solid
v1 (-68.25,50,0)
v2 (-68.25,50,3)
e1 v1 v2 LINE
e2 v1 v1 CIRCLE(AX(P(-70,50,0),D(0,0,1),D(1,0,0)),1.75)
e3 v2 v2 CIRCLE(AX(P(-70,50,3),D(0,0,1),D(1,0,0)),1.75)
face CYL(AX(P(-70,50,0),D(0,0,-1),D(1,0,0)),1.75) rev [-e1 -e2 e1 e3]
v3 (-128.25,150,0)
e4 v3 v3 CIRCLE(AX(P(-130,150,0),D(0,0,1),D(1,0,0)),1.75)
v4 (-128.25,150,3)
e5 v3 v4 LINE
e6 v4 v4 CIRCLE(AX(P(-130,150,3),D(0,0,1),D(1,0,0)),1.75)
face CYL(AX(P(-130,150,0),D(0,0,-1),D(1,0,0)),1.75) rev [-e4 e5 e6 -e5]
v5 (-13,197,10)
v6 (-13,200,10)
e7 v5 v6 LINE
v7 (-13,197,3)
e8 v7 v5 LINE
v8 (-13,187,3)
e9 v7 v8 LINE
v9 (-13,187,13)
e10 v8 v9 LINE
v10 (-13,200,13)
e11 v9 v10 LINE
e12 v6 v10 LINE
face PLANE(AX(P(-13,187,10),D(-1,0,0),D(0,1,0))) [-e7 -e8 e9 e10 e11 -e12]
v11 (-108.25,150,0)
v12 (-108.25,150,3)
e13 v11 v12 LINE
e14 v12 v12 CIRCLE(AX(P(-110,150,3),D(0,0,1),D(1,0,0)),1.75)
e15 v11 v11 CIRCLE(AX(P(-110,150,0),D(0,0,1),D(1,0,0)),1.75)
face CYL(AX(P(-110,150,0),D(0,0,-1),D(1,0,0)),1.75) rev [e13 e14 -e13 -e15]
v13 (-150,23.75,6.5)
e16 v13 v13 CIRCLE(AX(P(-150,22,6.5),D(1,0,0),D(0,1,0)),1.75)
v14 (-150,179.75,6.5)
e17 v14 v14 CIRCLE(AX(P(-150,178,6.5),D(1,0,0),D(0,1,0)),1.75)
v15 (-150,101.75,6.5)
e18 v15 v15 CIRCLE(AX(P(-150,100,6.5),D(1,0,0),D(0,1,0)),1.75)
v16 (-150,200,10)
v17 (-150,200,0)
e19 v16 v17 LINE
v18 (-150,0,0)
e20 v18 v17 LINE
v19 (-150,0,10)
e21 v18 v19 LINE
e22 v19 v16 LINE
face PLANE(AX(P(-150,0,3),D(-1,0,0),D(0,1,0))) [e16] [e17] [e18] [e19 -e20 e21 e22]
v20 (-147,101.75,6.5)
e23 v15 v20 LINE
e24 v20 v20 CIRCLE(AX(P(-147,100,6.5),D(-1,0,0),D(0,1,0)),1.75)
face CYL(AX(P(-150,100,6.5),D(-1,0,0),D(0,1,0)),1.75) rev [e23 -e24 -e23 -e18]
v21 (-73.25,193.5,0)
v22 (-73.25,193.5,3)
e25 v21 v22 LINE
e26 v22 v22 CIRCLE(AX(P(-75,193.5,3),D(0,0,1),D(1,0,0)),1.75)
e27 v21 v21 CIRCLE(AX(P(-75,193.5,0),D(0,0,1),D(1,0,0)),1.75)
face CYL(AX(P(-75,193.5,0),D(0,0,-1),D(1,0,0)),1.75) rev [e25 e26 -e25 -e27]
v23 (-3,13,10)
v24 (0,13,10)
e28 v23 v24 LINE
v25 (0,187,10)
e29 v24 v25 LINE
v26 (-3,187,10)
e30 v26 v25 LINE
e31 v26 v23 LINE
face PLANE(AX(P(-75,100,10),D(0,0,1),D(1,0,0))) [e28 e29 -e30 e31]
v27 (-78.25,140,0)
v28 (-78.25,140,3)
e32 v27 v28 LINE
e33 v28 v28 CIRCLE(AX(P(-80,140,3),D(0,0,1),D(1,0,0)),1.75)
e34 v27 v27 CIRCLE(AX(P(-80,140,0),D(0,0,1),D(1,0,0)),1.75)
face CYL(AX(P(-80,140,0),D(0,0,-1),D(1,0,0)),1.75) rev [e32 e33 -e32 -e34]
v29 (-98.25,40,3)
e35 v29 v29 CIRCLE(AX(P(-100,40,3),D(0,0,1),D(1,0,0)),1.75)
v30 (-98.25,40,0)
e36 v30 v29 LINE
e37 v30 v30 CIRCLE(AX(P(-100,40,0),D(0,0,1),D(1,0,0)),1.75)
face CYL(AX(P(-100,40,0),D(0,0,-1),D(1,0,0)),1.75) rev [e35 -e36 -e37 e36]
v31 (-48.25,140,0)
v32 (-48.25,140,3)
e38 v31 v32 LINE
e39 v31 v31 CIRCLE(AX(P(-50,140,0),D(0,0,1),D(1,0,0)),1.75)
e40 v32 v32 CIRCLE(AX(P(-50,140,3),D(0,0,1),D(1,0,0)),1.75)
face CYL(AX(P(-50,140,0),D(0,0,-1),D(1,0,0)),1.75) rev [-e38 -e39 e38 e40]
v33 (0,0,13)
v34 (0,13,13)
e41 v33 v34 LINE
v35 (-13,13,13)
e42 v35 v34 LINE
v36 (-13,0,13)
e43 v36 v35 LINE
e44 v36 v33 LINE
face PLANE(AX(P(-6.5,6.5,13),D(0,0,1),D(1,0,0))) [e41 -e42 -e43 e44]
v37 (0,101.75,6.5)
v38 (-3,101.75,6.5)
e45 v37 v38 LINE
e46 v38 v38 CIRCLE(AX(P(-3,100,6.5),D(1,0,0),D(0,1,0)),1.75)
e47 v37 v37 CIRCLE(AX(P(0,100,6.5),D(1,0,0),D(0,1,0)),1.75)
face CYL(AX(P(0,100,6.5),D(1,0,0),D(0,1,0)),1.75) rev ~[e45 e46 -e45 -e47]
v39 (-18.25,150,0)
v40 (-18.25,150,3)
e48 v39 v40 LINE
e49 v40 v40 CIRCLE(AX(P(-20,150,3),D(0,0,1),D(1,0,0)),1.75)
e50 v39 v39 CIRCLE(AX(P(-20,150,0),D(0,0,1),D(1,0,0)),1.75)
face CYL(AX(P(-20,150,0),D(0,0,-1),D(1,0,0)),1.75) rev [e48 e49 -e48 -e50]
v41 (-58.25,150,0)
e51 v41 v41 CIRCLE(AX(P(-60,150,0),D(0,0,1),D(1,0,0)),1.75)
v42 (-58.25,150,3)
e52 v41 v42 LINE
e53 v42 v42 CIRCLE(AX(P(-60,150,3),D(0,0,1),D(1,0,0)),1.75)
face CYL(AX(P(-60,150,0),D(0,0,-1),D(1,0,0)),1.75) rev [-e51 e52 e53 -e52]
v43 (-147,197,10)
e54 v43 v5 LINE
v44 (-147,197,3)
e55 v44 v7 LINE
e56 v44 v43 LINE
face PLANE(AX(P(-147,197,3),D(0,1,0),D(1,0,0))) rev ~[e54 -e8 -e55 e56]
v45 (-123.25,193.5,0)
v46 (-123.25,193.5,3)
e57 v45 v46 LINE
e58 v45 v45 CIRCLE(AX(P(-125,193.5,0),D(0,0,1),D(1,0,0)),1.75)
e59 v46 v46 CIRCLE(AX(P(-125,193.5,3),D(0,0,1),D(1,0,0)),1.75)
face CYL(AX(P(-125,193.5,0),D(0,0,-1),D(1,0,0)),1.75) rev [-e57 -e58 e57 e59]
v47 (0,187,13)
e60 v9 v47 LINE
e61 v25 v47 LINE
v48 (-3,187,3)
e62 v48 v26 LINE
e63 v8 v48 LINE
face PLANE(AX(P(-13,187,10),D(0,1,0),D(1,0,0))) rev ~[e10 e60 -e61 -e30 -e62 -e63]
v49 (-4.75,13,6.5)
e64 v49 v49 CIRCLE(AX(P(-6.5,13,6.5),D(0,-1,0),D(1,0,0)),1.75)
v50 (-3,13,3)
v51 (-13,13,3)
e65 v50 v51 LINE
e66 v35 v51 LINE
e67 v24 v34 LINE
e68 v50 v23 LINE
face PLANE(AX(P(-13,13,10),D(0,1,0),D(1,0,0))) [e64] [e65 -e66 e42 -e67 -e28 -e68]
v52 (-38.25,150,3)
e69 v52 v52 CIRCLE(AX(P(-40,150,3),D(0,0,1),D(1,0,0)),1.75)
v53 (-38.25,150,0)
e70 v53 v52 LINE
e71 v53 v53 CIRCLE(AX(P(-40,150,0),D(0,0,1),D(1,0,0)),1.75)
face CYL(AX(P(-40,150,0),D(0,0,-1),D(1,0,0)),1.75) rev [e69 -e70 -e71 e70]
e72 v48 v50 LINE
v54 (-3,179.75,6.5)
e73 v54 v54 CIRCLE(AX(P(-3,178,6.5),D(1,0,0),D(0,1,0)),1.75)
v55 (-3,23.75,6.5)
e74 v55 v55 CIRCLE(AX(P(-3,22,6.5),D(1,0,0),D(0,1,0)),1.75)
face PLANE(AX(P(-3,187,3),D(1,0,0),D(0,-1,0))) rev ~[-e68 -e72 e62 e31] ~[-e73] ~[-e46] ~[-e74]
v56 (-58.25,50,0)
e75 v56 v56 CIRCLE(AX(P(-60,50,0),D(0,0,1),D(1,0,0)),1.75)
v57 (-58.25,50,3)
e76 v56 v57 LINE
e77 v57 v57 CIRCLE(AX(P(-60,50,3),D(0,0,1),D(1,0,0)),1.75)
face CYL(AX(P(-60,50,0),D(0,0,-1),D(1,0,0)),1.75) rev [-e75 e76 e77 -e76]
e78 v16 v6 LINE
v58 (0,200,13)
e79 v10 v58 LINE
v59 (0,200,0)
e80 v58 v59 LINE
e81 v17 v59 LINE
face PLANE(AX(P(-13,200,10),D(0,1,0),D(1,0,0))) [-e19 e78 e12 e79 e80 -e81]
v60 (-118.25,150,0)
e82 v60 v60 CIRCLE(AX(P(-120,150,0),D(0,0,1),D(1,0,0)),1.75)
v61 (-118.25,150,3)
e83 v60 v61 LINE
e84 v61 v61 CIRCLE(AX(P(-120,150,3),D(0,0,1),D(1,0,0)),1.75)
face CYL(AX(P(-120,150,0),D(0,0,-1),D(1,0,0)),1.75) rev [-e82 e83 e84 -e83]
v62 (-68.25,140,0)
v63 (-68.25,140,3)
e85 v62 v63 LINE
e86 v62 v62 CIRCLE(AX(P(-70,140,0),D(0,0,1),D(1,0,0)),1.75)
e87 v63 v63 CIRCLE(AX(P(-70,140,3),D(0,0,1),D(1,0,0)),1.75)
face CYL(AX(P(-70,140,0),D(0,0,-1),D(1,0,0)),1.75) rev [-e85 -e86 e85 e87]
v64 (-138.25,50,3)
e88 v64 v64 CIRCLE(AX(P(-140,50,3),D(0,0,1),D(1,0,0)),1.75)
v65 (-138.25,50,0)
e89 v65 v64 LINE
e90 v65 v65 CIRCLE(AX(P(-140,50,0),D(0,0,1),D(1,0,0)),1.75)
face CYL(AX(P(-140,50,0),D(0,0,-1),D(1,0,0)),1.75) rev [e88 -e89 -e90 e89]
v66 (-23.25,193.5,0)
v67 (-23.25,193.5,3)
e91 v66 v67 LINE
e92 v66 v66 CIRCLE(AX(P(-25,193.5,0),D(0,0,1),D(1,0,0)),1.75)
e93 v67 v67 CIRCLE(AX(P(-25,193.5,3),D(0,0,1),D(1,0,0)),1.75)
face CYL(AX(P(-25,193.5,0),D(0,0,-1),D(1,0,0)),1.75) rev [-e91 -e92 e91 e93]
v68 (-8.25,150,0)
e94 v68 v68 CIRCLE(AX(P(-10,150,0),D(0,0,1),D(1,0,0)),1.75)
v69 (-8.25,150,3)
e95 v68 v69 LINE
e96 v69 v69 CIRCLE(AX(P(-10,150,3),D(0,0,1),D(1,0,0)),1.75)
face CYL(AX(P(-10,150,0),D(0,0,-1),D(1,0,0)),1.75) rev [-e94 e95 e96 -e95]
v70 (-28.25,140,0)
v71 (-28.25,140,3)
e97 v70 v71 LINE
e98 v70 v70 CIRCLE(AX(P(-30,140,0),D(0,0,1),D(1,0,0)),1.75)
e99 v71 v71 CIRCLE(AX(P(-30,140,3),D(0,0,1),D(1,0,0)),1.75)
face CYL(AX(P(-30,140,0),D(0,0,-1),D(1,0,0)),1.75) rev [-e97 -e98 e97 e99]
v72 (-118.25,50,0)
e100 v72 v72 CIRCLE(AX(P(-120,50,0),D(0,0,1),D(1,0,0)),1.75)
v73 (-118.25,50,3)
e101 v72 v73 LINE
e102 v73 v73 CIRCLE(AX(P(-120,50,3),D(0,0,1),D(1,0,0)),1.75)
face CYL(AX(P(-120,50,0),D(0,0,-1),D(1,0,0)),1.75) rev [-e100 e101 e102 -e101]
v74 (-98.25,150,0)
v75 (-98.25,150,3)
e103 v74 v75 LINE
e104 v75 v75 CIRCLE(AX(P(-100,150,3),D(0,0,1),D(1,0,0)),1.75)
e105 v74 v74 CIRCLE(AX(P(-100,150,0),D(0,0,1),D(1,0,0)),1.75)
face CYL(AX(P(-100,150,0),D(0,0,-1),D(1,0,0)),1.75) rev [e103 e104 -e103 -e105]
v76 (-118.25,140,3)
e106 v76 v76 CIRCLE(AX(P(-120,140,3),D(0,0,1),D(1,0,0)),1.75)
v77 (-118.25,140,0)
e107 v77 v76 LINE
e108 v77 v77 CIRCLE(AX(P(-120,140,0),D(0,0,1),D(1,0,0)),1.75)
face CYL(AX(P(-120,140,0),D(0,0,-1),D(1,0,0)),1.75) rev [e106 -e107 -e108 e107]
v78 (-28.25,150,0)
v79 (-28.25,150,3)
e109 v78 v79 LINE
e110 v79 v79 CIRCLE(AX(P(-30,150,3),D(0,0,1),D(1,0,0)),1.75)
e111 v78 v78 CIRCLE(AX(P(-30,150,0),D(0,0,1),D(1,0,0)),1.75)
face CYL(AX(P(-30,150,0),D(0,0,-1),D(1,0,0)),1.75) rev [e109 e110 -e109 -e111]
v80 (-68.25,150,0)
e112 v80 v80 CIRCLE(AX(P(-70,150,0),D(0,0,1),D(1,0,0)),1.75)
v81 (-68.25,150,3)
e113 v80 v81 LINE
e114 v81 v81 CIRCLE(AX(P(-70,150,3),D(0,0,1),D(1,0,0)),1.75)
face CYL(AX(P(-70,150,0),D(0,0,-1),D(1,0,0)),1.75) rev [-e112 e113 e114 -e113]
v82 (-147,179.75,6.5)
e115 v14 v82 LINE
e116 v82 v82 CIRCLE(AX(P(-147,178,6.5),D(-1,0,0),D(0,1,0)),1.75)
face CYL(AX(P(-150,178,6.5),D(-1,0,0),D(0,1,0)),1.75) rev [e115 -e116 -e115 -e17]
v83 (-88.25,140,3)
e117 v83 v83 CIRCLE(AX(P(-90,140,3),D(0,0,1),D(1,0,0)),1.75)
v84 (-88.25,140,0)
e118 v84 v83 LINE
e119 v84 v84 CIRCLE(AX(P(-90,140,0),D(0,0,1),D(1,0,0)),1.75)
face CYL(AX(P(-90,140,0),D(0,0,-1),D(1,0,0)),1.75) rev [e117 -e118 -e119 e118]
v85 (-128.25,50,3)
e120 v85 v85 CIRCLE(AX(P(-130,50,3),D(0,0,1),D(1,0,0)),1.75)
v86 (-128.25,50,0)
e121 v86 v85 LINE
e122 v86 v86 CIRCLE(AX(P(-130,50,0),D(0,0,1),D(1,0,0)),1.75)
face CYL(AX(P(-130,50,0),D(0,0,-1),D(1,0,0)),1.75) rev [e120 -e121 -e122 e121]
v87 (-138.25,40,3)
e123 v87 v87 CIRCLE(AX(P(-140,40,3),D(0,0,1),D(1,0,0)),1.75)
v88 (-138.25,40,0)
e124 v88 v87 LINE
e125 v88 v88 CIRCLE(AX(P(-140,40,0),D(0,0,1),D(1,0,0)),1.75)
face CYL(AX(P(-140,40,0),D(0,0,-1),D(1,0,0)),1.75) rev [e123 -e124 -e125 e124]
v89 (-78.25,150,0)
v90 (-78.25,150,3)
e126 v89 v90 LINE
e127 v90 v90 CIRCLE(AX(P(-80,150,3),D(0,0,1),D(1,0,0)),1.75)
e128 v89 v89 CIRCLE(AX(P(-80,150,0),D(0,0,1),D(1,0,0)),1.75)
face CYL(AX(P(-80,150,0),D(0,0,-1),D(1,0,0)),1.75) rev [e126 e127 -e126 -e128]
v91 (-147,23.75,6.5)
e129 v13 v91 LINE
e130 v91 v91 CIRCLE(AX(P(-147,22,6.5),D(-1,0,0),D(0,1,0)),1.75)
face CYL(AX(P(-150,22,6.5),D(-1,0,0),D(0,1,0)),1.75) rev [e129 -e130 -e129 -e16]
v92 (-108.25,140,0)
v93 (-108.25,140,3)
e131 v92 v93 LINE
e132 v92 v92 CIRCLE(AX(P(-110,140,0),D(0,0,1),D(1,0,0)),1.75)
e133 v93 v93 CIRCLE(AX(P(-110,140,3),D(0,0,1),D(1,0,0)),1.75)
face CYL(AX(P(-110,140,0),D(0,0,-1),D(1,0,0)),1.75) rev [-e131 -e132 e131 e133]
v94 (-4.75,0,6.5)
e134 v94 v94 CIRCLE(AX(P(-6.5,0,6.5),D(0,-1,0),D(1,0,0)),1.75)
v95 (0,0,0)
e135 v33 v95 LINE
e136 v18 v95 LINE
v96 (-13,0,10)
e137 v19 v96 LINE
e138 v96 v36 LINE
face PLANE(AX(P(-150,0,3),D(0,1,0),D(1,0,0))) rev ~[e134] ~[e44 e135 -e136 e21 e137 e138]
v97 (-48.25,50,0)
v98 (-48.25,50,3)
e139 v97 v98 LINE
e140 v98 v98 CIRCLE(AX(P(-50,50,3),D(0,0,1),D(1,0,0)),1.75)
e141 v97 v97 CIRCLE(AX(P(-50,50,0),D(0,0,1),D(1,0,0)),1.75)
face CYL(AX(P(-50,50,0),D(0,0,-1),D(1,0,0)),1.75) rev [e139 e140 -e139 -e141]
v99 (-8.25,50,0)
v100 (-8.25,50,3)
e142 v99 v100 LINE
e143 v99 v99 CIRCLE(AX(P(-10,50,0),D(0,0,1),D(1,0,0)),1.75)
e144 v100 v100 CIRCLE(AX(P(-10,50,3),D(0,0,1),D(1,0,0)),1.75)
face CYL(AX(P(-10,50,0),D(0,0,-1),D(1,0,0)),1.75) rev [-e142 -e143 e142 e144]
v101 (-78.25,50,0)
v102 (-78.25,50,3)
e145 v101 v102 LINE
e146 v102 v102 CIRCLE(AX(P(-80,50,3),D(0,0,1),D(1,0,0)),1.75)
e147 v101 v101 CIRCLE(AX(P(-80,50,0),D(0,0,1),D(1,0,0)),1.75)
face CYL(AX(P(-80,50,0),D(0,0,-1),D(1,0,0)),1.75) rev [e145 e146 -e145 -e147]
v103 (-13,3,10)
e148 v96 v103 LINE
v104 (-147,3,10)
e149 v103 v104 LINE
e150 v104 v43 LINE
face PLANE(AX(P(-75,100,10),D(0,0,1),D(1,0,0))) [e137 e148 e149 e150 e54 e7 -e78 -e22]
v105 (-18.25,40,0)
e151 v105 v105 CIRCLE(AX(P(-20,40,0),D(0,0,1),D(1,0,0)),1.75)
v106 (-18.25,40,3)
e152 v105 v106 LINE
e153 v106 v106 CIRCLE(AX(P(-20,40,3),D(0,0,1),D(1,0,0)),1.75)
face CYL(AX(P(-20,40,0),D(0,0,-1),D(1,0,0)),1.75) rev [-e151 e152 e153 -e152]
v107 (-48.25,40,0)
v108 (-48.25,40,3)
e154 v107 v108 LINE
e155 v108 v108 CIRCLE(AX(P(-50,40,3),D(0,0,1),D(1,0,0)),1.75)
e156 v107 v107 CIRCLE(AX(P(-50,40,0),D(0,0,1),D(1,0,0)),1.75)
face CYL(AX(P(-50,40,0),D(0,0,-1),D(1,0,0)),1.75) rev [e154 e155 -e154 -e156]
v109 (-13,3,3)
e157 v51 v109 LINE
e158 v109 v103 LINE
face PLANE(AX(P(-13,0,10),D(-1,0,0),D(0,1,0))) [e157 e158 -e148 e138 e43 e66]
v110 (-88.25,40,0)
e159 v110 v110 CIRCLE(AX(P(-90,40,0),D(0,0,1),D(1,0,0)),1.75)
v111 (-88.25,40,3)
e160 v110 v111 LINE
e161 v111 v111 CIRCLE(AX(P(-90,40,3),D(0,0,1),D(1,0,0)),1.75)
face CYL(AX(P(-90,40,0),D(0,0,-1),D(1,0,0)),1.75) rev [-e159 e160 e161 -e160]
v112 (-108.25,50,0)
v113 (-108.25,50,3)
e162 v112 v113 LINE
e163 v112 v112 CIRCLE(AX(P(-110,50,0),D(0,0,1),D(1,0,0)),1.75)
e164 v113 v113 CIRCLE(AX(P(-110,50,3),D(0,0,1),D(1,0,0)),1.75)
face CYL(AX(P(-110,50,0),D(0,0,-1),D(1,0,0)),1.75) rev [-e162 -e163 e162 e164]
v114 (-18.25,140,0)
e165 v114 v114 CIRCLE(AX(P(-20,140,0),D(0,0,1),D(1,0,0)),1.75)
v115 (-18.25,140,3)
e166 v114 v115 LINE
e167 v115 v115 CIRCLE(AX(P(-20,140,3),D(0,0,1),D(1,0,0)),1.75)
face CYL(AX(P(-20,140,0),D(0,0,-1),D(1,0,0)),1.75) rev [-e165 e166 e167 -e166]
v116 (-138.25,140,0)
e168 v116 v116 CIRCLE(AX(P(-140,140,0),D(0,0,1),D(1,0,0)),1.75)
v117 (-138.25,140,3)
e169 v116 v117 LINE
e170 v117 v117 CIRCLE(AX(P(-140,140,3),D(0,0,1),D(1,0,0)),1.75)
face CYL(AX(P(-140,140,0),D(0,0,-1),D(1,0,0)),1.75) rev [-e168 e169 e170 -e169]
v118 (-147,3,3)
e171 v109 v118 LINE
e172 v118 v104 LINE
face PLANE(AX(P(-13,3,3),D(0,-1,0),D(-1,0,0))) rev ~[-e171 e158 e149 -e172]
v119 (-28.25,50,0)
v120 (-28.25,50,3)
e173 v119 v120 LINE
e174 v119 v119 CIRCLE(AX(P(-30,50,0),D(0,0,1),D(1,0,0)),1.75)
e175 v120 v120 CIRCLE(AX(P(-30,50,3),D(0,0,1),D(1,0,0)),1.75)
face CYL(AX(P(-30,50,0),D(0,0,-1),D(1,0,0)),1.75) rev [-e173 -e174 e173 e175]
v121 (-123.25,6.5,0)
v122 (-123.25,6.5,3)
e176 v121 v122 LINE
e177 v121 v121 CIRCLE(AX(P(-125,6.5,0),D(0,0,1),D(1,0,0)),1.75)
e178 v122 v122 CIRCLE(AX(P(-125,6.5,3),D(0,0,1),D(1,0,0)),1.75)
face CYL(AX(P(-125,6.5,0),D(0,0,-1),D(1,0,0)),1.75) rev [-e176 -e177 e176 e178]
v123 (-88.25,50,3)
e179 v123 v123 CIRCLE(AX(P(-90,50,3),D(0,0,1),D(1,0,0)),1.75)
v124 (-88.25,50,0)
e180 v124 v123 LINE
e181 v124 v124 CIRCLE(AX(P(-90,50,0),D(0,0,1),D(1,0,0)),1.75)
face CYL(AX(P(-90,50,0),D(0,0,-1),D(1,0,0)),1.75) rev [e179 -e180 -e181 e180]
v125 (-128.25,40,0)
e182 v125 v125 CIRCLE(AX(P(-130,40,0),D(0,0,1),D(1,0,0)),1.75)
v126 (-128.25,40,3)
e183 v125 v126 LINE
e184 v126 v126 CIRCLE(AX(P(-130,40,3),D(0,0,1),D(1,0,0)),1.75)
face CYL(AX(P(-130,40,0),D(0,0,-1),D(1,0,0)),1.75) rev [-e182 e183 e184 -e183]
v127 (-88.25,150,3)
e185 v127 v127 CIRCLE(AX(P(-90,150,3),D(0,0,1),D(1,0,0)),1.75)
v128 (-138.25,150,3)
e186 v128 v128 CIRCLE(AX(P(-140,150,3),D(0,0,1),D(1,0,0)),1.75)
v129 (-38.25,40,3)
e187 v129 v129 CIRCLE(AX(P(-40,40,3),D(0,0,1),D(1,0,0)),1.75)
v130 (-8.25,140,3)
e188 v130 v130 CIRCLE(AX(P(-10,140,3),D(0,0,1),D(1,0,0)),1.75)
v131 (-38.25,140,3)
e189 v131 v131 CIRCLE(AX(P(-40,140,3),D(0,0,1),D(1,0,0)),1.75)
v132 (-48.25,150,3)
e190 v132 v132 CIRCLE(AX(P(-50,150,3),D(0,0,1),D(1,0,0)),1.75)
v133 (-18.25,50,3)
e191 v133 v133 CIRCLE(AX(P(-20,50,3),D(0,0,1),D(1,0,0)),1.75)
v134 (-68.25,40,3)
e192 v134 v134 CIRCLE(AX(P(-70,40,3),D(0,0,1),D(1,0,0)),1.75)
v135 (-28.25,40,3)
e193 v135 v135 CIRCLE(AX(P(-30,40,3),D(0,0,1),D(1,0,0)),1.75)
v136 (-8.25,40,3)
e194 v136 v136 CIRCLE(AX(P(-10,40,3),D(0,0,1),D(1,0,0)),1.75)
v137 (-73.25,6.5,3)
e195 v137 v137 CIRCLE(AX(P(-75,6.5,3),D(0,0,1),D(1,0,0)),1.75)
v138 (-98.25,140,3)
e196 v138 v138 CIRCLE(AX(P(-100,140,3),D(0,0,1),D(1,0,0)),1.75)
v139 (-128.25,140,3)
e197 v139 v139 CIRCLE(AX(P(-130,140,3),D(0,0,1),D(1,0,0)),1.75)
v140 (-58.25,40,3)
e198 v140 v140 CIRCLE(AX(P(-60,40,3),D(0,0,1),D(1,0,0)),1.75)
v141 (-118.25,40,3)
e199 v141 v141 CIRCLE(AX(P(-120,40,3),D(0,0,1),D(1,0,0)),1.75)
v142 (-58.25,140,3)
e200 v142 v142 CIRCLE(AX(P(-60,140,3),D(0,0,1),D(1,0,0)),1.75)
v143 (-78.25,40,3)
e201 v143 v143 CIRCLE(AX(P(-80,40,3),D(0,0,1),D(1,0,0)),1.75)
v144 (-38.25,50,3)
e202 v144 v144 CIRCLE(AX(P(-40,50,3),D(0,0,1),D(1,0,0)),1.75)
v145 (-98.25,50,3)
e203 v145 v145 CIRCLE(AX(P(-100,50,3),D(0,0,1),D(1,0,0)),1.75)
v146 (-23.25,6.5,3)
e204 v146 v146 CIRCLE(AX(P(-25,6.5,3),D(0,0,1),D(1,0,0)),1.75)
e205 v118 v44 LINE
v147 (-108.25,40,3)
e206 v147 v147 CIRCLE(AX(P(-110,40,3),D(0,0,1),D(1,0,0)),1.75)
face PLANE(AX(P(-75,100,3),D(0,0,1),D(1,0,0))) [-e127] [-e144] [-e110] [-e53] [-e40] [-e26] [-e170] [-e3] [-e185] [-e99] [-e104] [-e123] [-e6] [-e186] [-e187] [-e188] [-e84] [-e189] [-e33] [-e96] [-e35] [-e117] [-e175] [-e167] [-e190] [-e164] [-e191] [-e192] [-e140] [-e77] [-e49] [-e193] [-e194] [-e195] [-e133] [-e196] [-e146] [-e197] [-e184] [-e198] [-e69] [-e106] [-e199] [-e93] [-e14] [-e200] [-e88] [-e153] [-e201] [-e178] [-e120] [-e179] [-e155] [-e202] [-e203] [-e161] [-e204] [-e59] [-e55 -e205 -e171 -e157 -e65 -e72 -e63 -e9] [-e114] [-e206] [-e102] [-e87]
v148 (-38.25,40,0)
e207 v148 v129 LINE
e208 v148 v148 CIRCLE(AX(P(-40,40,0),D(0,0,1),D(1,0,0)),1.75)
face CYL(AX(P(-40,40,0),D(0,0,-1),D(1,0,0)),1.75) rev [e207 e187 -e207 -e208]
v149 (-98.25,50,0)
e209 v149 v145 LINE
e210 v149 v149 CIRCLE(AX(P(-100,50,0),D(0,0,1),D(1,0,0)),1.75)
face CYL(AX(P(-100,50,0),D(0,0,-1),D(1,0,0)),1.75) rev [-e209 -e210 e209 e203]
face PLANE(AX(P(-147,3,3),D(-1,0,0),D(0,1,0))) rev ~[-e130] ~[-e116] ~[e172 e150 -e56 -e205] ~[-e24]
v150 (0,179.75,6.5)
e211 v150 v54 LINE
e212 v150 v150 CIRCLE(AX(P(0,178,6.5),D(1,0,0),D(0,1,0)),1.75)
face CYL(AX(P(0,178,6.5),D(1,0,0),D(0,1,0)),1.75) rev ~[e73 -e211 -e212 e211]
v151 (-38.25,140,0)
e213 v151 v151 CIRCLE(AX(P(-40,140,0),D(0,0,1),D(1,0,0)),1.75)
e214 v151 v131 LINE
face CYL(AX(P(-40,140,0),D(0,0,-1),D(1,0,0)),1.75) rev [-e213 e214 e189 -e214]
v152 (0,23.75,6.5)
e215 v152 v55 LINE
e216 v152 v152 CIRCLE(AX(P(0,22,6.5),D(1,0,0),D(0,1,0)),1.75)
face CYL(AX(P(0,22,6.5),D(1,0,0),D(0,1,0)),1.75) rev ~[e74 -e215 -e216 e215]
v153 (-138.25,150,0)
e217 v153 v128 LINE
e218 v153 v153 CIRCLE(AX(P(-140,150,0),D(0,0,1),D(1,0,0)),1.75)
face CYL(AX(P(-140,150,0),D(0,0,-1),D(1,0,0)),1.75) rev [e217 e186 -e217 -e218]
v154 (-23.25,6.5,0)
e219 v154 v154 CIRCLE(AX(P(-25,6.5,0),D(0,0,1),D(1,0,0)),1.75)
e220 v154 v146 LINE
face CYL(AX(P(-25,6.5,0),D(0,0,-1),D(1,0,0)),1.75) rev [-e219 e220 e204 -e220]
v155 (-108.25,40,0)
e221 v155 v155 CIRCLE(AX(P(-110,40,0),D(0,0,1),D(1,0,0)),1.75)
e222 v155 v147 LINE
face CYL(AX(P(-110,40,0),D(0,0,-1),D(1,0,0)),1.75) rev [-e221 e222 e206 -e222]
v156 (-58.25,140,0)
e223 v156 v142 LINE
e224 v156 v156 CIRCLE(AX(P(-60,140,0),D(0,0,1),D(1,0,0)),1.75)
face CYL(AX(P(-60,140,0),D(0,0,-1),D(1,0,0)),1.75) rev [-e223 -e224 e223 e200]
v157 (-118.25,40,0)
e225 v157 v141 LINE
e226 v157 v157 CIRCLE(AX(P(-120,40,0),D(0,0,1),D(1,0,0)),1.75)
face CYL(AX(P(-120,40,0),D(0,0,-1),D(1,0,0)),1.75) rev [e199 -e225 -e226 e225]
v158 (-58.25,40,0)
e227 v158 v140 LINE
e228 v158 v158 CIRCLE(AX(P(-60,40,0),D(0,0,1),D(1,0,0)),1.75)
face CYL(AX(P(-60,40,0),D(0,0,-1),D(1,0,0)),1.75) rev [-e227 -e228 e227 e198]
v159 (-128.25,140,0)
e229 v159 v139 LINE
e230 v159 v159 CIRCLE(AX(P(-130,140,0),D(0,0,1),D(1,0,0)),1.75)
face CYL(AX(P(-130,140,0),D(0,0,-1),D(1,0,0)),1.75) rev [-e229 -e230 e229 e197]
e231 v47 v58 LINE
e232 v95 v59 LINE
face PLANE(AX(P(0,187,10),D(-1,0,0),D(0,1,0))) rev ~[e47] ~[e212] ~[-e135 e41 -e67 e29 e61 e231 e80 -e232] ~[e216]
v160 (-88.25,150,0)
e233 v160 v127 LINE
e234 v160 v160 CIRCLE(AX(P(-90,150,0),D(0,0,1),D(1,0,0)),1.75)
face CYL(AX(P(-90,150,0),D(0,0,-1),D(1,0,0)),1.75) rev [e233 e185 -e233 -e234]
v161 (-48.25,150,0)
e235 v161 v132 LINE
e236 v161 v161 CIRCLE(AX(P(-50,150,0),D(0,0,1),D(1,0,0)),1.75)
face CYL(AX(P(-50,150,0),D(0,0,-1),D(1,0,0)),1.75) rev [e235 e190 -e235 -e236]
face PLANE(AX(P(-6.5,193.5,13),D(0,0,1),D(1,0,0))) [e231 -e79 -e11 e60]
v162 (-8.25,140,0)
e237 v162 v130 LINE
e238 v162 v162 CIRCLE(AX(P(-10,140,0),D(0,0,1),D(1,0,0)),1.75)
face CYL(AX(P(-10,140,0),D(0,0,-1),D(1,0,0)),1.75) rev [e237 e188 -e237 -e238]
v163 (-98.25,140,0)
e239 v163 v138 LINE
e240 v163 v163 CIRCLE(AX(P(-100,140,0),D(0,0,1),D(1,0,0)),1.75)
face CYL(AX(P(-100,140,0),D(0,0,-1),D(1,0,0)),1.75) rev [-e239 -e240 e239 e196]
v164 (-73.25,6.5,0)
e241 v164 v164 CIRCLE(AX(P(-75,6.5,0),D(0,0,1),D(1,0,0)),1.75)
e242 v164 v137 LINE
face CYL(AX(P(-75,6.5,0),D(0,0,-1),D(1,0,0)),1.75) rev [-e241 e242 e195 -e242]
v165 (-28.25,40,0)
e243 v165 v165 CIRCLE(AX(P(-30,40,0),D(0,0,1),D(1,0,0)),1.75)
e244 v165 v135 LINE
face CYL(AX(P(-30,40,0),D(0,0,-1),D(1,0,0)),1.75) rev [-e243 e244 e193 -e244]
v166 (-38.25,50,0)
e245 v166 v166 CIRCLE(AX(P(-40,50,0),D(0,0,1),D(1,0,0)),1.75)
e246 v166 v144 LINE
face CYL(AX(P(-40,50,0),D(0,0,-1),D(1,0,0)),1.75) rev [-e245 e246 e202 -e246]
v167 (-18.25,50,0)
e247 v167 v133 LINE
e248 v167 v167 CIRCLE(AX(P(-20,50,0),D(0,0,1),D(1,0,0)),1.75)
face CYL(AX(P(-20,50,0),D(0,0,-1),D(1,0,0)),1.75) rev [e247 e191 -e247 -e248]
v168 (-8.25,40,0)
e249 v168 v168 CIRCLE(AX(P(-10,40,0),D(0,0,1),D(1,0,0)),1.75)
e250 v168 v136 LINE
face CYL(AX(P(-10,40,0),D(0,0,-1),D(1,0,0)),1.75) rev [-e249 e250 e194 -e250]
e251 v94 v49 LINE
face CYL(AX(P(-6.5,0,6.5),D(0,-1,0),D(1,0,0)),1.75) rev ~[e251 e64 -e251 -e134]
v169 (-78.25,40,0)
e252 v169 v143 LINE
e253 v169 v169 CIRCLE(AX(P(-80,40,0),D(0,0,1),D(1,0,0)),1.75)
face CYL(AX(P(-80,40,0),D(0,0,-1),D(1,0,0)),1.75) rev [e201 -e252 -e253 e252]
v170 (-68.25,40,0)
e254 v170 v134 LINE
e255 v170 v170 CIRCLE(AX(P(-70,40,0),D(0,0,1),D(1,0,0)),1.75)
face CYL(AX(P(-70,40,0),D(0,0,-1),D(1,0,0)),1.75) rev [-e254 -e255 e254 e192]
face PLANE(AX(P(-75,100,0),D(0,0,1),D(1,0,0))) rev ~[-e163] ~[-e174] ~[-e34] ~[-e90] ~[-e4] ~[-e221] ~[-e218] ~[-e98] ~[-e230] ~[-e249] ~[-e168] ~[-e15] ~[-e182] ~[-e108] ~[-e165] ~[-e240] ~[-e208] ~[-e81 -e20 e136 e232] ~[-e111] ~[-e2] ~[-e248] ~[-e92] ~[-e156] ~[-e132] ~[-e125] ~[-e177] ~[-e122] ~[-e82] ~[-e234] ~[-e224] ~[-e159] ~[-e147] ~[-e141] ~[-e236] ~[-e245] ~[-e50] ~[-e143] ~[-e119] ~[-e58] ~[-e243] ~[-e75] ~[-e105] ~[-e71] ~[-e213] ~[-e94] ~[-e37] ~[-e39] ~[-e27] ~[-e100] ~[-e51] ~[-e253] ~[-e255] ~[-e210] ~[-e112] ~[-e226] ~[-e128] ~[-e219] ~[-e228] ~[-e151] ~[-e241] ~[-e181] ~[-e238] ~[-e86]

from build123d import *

# Parameters (mm, degrees)
SKETCH_W        = 150
SKETCH_H        = 200
SKETCH_R        = 1.75
PAD_DEPTH       = 3
SKETCH001_W     = 150
SKETCH001_H     = 200
PAD001_DEPTH    = 7
SKETCH005_W     = 13
SKETCH005_H     = 13
PAD002_DEPTH    = 3
SKETCH002_R     = 1.75
POCKET_DEPTH    = 5
SKETCH003_R     = 1.75
POCKET001_DEPTH = 5
SKETCH004_R     = 1.75
POCKET002_DEPTH = 14


with BuildPart() as part:
    # Sketch → Pad (new body)
    with BuildSketch(Plane.XY):
        with Locations((-75, 100)):
            Rectangle(SKETCH_W, SKETCH_H)
        with Locations((-140, 40)):
            Circle(SKETCH_R, mode=Mode.SUBTRACT)
        with Locations((-130, 40)):
            Circle(SKETCH_R, mode=Mode.SUBTRACT)
        with Locations((-120, 40)):
            Circle(SKETCH_R, mode=Mode.SUBTRACT)
        with Locations((-110, 40)):
            Circle(SKETCH_R, mode=Mode.SUBTRACT)
        with Locations((-100, 40)):
            Circle(SKETCH_R, mode=Mode.SUBTRACT)
        with Locations((-90, 40)):
            Circle(SKETCH_R, mode=Mode.SUBTRACT)
        with Locations((-80, 40)):
            Circle(SKETCH_R, mode=Mode.SUBTRACT)
        with Locations((-70, 40)):
            Circle(SKETCH_R, mode=Mode.SUBTRACT)
        with Locations((-60, 40)):
            Circle(SKETCH_R, mode=Mode.SUBTRACT)
        with Locations((-50, 40)):
            Circle(SKETCH_R, mode=Mode.SUBTRACT)
        with Locations((-40, 40)):
            Circle(SKETCH_R, mode=Mode.SUBTRACT)
        with Locations((-30, 40)):
            Circle(SKETCH_R, mode=Mode.SUBTRACT)
        with Locations((-20, 40)):
            Circle(SKETCH_R, mode=Mode.SUBTRACT)
        with Locations((-10, 40)):
            Circle(SKETCH_R, mode=Mode.SUBTRACT)
        with Locations((-140, 50)):
            Circle(SKETCH_R, mode=Mode.SUBTRACT)
        with Locations((-130, 50)):
            Circle(SKETCH_R, mode=Mode.SUBTRACT)
        with Locations((-120, 50)):
            Circle(SKETCH_R, mode=Mode.SUBTRACT)
        with Locations((-110, 50)):
            Circle(SKETCH_R, mode=Mode.SUBTRACT)
        with Locations((-100, 50)):
            Circle(SKETCH_R, mode=Mode.SUBTRACT)
        with Locations((-90, 50)):
            Circle(SKETCH_R, mode=Mode.SUBTRACT)
        with Locations((-80, 50)):
            Circle(SKETCH_R, mode=Mode.SUBTRACT)
        with Locations((-70, 50)):
            Circle(SKETCH_R, mode=Mode.SUBTRACT)
        with Locations((-60, 50)):
            Circle(SKETCH_R, mode=Mode.SUBTRACT)
        with Locations((-50, 50)):
            Circle(SKETCH_R, mode=Mode.SUBTRACT)
        with Locations((-40, 50)):
            Circle(SKETCH_R, mode=Mode.SUBTRACT)
        with Locations((-30, 50)):
            Circle(SKETCH_R, mode=Mode.SUBTRACT)
        with Locations((-20, 50)):
            Circle(SKETCH_R, mode=Mode.SUBTRACT)
        with Locations((-10, 50)):
            Circle(SKETCH_R, mode=Mode.SUBTRACT)
        with Locations((-140, 140)):
            Circle(SKETCH_R, mode=Mode.SUBTRACT)
        with Locations((-130, 140)):
            Circle(SKETCH_R, mode=Mode.SUBTRACT)
        with Locations((-120, 140)):
            Circle(SKETCH_R, mode=Mode.SUBTRACT)
        with Locations((-110, 140)):
            Circle(SKETCH_R, mode=Mode.SUBTRACT)
        with Locations((-100, 140)):
            Circle(SKETCH_R, mode=Mode.SUBTRACT)
        with Locations((-90, 140)):
            Circle(SKETCH_R, mode=Mode.SUBTRACT)
        with Locations((-80, 140)):
            Circle(SKETCH_R, mode=Mode.SUBTRACT)
        with Locations((-70, 140)):
            Circle(SKETCH_R, mode=Mode.SUBTRACT)
        with Locations((-60, 140)):
            Circle(SKETCH_R, mode=Mode.SUBTRACT)
        with Locations((-50, 140)):
            Circle(SKETCH_R, mode=Mode.SUBTRACT)
        with Locations((-40, 140)):
            Circle(SKETCH_R, mode=Mode.SUBTRACT)
        with Locations((-30, 140)):
            Circle(SKETCH_R, mode=Mode.SUBTRACT)
        with Locations((-20, 140)):
            Circle(SKETCH_R, mode=Mode.SUBTRACT)
        with Locations((-10, 140)):
            Circle(SKETCH_R, mode=Mode.SUBTRACT)
        with Locations((-140, 150)):
            Circle(SKETCH_R, mode=Mode.SUBTRACT)
        with Locations((-130, 150)):
            Circle(SKETCH_R, mode=Mode.SUBTRACT)
        with Locations((-120, 150)):
            Circle(SKETCH_R, mode=Mode.SUBTRACT)
        with Locations((-110, 150)):
            Circle(SKETCH_R, mode=Mode.SUBTRACT)
        with Locations((-100, 150)):
            Circle(SKETCH_R, mode=Mode.SUBTRACT)
        with Locations((-90, 150)):
            Circle(SKETCH_R, mode=Mode.SUBTRACT)
        with Locations((-80, 150)):
            Circle(SKETCH_R, mode=Mode.SUBTRACT)
        with Locations((-70, 150)):
            Circle(SKETCH_R, mode=Mode.SUBTRACT)
        with Locations((-60, 150)):
            Circle(SKETCH_R, mode=Mode.SUBTRACT)
        with Locations((-50, 150)):
            Circle(SKETCH_R, mode=Mode.SUBTRACT)
        with Locations((-40, 150)):
            Circle(SKETCH_R, mode=Mode.SUBTRACT)
        with Locations((-30, 150)):
            Circle(SKETCH_R, mode=Mode.SUBTRACT)
        with Locations((-20, 150)):
            Circle(SKETCH_R, mode=Mode.SUBTRACT)
        with Locations((-10, 150)):
            Circle(SKETCH_R, mode=Mode.SUBTRACT)
        with Locations((-125, 193.5)):
            Circle(SKETCH_R, mode=Mode.SUBTRACT)
        with Locations((-125, 6.5)):
            Circle(SKETCH_R, mode=Mode.SUBTRACT)
        with Locations((-25, 6.5)):
            Circle(SKETCH_R, mode=Mode.SUBTRACT)
        with Locations((-75, 6.5)):
            Circle(SKETCH_R, mode=Mode.SUBTRACT)
        with Locations((-25, 193.5)):
            Circle(SKETCH_R, mode=Mode.SUBTRACT)
        with Locations((-75, 193.5)):
            Circle(SKETCH_R, mode=Mode.SUBTRACT)
    extrude(amount=PAD_DEPTH)

    # Sketch001 (on DatumPlane) → Pad001 (join)
    with BuildSketch(Plane.XY.offset(3)):
        with Locations((-75, 100)):
            Rectangle(SKETCH001_W, SKETCH001_H)
        Polygon((-147, 197), (-13, 197), (-13, 187), (-3, 187), (-3, 13), (-13, 13), (-13, 3), (-147, 3), align=None, mode=Mode.SUBTRACT)
    extrude(amount=PAD001_DEPTH)

    # Sketch005 (on DatumPlane) → Pad002 (join)
    with BuildSketch(Plane.XY.offset(10)):
        with Locations((-6.5, 193.5)):
            Rectangle(SKETCH005_W, SKETCH005_H)
        with Locations((-6.5, 6.5)):
            Rectangle(SKETCH005_W, SKETCH005_H)
    extrude(amount=PAD002_DEPTH)

    # Sketch002 → Pocket (cut)
    with BuildSketch(Plane.YZ):
        with Locations((100, 6.5)):
            Circle(SKETCH002_R)
        with Locations((22, 6.5)):
            Circle(SKETCH002_R)
        with Locations((178, 6.5)):
            Circle(SKETCH002_R)
    extrude(amount=-POCKET_DEPTH, mode=Mode.SUBTRACT)

    # Sketch003 → Pocket001 (cut)
    with BuildSketch(Plane.YZ.offset(-150)):
        with Locations((100, 6.5)):
            Circle(SKETCH003_R)
        with Locations((22, 6.5)):
            Circle(SKETCH003_R)
        with Locations((178, 6.5)):
            Circle(SKETCH003_R)
    extrude(amount=POCKET001_DEPTH, mode=Mode.SUBTRACT)

    # Sketch004 → Pocket002 (cut)
    with BuildSketch(Plane.XZ):
        with Locations((-6.5, 6.5)):
            Circle(SKETCH004_R)
    extrude(amount=-POCKET002_DEPTH, mode=Mode.SUBTRACT)


solid = part.part
